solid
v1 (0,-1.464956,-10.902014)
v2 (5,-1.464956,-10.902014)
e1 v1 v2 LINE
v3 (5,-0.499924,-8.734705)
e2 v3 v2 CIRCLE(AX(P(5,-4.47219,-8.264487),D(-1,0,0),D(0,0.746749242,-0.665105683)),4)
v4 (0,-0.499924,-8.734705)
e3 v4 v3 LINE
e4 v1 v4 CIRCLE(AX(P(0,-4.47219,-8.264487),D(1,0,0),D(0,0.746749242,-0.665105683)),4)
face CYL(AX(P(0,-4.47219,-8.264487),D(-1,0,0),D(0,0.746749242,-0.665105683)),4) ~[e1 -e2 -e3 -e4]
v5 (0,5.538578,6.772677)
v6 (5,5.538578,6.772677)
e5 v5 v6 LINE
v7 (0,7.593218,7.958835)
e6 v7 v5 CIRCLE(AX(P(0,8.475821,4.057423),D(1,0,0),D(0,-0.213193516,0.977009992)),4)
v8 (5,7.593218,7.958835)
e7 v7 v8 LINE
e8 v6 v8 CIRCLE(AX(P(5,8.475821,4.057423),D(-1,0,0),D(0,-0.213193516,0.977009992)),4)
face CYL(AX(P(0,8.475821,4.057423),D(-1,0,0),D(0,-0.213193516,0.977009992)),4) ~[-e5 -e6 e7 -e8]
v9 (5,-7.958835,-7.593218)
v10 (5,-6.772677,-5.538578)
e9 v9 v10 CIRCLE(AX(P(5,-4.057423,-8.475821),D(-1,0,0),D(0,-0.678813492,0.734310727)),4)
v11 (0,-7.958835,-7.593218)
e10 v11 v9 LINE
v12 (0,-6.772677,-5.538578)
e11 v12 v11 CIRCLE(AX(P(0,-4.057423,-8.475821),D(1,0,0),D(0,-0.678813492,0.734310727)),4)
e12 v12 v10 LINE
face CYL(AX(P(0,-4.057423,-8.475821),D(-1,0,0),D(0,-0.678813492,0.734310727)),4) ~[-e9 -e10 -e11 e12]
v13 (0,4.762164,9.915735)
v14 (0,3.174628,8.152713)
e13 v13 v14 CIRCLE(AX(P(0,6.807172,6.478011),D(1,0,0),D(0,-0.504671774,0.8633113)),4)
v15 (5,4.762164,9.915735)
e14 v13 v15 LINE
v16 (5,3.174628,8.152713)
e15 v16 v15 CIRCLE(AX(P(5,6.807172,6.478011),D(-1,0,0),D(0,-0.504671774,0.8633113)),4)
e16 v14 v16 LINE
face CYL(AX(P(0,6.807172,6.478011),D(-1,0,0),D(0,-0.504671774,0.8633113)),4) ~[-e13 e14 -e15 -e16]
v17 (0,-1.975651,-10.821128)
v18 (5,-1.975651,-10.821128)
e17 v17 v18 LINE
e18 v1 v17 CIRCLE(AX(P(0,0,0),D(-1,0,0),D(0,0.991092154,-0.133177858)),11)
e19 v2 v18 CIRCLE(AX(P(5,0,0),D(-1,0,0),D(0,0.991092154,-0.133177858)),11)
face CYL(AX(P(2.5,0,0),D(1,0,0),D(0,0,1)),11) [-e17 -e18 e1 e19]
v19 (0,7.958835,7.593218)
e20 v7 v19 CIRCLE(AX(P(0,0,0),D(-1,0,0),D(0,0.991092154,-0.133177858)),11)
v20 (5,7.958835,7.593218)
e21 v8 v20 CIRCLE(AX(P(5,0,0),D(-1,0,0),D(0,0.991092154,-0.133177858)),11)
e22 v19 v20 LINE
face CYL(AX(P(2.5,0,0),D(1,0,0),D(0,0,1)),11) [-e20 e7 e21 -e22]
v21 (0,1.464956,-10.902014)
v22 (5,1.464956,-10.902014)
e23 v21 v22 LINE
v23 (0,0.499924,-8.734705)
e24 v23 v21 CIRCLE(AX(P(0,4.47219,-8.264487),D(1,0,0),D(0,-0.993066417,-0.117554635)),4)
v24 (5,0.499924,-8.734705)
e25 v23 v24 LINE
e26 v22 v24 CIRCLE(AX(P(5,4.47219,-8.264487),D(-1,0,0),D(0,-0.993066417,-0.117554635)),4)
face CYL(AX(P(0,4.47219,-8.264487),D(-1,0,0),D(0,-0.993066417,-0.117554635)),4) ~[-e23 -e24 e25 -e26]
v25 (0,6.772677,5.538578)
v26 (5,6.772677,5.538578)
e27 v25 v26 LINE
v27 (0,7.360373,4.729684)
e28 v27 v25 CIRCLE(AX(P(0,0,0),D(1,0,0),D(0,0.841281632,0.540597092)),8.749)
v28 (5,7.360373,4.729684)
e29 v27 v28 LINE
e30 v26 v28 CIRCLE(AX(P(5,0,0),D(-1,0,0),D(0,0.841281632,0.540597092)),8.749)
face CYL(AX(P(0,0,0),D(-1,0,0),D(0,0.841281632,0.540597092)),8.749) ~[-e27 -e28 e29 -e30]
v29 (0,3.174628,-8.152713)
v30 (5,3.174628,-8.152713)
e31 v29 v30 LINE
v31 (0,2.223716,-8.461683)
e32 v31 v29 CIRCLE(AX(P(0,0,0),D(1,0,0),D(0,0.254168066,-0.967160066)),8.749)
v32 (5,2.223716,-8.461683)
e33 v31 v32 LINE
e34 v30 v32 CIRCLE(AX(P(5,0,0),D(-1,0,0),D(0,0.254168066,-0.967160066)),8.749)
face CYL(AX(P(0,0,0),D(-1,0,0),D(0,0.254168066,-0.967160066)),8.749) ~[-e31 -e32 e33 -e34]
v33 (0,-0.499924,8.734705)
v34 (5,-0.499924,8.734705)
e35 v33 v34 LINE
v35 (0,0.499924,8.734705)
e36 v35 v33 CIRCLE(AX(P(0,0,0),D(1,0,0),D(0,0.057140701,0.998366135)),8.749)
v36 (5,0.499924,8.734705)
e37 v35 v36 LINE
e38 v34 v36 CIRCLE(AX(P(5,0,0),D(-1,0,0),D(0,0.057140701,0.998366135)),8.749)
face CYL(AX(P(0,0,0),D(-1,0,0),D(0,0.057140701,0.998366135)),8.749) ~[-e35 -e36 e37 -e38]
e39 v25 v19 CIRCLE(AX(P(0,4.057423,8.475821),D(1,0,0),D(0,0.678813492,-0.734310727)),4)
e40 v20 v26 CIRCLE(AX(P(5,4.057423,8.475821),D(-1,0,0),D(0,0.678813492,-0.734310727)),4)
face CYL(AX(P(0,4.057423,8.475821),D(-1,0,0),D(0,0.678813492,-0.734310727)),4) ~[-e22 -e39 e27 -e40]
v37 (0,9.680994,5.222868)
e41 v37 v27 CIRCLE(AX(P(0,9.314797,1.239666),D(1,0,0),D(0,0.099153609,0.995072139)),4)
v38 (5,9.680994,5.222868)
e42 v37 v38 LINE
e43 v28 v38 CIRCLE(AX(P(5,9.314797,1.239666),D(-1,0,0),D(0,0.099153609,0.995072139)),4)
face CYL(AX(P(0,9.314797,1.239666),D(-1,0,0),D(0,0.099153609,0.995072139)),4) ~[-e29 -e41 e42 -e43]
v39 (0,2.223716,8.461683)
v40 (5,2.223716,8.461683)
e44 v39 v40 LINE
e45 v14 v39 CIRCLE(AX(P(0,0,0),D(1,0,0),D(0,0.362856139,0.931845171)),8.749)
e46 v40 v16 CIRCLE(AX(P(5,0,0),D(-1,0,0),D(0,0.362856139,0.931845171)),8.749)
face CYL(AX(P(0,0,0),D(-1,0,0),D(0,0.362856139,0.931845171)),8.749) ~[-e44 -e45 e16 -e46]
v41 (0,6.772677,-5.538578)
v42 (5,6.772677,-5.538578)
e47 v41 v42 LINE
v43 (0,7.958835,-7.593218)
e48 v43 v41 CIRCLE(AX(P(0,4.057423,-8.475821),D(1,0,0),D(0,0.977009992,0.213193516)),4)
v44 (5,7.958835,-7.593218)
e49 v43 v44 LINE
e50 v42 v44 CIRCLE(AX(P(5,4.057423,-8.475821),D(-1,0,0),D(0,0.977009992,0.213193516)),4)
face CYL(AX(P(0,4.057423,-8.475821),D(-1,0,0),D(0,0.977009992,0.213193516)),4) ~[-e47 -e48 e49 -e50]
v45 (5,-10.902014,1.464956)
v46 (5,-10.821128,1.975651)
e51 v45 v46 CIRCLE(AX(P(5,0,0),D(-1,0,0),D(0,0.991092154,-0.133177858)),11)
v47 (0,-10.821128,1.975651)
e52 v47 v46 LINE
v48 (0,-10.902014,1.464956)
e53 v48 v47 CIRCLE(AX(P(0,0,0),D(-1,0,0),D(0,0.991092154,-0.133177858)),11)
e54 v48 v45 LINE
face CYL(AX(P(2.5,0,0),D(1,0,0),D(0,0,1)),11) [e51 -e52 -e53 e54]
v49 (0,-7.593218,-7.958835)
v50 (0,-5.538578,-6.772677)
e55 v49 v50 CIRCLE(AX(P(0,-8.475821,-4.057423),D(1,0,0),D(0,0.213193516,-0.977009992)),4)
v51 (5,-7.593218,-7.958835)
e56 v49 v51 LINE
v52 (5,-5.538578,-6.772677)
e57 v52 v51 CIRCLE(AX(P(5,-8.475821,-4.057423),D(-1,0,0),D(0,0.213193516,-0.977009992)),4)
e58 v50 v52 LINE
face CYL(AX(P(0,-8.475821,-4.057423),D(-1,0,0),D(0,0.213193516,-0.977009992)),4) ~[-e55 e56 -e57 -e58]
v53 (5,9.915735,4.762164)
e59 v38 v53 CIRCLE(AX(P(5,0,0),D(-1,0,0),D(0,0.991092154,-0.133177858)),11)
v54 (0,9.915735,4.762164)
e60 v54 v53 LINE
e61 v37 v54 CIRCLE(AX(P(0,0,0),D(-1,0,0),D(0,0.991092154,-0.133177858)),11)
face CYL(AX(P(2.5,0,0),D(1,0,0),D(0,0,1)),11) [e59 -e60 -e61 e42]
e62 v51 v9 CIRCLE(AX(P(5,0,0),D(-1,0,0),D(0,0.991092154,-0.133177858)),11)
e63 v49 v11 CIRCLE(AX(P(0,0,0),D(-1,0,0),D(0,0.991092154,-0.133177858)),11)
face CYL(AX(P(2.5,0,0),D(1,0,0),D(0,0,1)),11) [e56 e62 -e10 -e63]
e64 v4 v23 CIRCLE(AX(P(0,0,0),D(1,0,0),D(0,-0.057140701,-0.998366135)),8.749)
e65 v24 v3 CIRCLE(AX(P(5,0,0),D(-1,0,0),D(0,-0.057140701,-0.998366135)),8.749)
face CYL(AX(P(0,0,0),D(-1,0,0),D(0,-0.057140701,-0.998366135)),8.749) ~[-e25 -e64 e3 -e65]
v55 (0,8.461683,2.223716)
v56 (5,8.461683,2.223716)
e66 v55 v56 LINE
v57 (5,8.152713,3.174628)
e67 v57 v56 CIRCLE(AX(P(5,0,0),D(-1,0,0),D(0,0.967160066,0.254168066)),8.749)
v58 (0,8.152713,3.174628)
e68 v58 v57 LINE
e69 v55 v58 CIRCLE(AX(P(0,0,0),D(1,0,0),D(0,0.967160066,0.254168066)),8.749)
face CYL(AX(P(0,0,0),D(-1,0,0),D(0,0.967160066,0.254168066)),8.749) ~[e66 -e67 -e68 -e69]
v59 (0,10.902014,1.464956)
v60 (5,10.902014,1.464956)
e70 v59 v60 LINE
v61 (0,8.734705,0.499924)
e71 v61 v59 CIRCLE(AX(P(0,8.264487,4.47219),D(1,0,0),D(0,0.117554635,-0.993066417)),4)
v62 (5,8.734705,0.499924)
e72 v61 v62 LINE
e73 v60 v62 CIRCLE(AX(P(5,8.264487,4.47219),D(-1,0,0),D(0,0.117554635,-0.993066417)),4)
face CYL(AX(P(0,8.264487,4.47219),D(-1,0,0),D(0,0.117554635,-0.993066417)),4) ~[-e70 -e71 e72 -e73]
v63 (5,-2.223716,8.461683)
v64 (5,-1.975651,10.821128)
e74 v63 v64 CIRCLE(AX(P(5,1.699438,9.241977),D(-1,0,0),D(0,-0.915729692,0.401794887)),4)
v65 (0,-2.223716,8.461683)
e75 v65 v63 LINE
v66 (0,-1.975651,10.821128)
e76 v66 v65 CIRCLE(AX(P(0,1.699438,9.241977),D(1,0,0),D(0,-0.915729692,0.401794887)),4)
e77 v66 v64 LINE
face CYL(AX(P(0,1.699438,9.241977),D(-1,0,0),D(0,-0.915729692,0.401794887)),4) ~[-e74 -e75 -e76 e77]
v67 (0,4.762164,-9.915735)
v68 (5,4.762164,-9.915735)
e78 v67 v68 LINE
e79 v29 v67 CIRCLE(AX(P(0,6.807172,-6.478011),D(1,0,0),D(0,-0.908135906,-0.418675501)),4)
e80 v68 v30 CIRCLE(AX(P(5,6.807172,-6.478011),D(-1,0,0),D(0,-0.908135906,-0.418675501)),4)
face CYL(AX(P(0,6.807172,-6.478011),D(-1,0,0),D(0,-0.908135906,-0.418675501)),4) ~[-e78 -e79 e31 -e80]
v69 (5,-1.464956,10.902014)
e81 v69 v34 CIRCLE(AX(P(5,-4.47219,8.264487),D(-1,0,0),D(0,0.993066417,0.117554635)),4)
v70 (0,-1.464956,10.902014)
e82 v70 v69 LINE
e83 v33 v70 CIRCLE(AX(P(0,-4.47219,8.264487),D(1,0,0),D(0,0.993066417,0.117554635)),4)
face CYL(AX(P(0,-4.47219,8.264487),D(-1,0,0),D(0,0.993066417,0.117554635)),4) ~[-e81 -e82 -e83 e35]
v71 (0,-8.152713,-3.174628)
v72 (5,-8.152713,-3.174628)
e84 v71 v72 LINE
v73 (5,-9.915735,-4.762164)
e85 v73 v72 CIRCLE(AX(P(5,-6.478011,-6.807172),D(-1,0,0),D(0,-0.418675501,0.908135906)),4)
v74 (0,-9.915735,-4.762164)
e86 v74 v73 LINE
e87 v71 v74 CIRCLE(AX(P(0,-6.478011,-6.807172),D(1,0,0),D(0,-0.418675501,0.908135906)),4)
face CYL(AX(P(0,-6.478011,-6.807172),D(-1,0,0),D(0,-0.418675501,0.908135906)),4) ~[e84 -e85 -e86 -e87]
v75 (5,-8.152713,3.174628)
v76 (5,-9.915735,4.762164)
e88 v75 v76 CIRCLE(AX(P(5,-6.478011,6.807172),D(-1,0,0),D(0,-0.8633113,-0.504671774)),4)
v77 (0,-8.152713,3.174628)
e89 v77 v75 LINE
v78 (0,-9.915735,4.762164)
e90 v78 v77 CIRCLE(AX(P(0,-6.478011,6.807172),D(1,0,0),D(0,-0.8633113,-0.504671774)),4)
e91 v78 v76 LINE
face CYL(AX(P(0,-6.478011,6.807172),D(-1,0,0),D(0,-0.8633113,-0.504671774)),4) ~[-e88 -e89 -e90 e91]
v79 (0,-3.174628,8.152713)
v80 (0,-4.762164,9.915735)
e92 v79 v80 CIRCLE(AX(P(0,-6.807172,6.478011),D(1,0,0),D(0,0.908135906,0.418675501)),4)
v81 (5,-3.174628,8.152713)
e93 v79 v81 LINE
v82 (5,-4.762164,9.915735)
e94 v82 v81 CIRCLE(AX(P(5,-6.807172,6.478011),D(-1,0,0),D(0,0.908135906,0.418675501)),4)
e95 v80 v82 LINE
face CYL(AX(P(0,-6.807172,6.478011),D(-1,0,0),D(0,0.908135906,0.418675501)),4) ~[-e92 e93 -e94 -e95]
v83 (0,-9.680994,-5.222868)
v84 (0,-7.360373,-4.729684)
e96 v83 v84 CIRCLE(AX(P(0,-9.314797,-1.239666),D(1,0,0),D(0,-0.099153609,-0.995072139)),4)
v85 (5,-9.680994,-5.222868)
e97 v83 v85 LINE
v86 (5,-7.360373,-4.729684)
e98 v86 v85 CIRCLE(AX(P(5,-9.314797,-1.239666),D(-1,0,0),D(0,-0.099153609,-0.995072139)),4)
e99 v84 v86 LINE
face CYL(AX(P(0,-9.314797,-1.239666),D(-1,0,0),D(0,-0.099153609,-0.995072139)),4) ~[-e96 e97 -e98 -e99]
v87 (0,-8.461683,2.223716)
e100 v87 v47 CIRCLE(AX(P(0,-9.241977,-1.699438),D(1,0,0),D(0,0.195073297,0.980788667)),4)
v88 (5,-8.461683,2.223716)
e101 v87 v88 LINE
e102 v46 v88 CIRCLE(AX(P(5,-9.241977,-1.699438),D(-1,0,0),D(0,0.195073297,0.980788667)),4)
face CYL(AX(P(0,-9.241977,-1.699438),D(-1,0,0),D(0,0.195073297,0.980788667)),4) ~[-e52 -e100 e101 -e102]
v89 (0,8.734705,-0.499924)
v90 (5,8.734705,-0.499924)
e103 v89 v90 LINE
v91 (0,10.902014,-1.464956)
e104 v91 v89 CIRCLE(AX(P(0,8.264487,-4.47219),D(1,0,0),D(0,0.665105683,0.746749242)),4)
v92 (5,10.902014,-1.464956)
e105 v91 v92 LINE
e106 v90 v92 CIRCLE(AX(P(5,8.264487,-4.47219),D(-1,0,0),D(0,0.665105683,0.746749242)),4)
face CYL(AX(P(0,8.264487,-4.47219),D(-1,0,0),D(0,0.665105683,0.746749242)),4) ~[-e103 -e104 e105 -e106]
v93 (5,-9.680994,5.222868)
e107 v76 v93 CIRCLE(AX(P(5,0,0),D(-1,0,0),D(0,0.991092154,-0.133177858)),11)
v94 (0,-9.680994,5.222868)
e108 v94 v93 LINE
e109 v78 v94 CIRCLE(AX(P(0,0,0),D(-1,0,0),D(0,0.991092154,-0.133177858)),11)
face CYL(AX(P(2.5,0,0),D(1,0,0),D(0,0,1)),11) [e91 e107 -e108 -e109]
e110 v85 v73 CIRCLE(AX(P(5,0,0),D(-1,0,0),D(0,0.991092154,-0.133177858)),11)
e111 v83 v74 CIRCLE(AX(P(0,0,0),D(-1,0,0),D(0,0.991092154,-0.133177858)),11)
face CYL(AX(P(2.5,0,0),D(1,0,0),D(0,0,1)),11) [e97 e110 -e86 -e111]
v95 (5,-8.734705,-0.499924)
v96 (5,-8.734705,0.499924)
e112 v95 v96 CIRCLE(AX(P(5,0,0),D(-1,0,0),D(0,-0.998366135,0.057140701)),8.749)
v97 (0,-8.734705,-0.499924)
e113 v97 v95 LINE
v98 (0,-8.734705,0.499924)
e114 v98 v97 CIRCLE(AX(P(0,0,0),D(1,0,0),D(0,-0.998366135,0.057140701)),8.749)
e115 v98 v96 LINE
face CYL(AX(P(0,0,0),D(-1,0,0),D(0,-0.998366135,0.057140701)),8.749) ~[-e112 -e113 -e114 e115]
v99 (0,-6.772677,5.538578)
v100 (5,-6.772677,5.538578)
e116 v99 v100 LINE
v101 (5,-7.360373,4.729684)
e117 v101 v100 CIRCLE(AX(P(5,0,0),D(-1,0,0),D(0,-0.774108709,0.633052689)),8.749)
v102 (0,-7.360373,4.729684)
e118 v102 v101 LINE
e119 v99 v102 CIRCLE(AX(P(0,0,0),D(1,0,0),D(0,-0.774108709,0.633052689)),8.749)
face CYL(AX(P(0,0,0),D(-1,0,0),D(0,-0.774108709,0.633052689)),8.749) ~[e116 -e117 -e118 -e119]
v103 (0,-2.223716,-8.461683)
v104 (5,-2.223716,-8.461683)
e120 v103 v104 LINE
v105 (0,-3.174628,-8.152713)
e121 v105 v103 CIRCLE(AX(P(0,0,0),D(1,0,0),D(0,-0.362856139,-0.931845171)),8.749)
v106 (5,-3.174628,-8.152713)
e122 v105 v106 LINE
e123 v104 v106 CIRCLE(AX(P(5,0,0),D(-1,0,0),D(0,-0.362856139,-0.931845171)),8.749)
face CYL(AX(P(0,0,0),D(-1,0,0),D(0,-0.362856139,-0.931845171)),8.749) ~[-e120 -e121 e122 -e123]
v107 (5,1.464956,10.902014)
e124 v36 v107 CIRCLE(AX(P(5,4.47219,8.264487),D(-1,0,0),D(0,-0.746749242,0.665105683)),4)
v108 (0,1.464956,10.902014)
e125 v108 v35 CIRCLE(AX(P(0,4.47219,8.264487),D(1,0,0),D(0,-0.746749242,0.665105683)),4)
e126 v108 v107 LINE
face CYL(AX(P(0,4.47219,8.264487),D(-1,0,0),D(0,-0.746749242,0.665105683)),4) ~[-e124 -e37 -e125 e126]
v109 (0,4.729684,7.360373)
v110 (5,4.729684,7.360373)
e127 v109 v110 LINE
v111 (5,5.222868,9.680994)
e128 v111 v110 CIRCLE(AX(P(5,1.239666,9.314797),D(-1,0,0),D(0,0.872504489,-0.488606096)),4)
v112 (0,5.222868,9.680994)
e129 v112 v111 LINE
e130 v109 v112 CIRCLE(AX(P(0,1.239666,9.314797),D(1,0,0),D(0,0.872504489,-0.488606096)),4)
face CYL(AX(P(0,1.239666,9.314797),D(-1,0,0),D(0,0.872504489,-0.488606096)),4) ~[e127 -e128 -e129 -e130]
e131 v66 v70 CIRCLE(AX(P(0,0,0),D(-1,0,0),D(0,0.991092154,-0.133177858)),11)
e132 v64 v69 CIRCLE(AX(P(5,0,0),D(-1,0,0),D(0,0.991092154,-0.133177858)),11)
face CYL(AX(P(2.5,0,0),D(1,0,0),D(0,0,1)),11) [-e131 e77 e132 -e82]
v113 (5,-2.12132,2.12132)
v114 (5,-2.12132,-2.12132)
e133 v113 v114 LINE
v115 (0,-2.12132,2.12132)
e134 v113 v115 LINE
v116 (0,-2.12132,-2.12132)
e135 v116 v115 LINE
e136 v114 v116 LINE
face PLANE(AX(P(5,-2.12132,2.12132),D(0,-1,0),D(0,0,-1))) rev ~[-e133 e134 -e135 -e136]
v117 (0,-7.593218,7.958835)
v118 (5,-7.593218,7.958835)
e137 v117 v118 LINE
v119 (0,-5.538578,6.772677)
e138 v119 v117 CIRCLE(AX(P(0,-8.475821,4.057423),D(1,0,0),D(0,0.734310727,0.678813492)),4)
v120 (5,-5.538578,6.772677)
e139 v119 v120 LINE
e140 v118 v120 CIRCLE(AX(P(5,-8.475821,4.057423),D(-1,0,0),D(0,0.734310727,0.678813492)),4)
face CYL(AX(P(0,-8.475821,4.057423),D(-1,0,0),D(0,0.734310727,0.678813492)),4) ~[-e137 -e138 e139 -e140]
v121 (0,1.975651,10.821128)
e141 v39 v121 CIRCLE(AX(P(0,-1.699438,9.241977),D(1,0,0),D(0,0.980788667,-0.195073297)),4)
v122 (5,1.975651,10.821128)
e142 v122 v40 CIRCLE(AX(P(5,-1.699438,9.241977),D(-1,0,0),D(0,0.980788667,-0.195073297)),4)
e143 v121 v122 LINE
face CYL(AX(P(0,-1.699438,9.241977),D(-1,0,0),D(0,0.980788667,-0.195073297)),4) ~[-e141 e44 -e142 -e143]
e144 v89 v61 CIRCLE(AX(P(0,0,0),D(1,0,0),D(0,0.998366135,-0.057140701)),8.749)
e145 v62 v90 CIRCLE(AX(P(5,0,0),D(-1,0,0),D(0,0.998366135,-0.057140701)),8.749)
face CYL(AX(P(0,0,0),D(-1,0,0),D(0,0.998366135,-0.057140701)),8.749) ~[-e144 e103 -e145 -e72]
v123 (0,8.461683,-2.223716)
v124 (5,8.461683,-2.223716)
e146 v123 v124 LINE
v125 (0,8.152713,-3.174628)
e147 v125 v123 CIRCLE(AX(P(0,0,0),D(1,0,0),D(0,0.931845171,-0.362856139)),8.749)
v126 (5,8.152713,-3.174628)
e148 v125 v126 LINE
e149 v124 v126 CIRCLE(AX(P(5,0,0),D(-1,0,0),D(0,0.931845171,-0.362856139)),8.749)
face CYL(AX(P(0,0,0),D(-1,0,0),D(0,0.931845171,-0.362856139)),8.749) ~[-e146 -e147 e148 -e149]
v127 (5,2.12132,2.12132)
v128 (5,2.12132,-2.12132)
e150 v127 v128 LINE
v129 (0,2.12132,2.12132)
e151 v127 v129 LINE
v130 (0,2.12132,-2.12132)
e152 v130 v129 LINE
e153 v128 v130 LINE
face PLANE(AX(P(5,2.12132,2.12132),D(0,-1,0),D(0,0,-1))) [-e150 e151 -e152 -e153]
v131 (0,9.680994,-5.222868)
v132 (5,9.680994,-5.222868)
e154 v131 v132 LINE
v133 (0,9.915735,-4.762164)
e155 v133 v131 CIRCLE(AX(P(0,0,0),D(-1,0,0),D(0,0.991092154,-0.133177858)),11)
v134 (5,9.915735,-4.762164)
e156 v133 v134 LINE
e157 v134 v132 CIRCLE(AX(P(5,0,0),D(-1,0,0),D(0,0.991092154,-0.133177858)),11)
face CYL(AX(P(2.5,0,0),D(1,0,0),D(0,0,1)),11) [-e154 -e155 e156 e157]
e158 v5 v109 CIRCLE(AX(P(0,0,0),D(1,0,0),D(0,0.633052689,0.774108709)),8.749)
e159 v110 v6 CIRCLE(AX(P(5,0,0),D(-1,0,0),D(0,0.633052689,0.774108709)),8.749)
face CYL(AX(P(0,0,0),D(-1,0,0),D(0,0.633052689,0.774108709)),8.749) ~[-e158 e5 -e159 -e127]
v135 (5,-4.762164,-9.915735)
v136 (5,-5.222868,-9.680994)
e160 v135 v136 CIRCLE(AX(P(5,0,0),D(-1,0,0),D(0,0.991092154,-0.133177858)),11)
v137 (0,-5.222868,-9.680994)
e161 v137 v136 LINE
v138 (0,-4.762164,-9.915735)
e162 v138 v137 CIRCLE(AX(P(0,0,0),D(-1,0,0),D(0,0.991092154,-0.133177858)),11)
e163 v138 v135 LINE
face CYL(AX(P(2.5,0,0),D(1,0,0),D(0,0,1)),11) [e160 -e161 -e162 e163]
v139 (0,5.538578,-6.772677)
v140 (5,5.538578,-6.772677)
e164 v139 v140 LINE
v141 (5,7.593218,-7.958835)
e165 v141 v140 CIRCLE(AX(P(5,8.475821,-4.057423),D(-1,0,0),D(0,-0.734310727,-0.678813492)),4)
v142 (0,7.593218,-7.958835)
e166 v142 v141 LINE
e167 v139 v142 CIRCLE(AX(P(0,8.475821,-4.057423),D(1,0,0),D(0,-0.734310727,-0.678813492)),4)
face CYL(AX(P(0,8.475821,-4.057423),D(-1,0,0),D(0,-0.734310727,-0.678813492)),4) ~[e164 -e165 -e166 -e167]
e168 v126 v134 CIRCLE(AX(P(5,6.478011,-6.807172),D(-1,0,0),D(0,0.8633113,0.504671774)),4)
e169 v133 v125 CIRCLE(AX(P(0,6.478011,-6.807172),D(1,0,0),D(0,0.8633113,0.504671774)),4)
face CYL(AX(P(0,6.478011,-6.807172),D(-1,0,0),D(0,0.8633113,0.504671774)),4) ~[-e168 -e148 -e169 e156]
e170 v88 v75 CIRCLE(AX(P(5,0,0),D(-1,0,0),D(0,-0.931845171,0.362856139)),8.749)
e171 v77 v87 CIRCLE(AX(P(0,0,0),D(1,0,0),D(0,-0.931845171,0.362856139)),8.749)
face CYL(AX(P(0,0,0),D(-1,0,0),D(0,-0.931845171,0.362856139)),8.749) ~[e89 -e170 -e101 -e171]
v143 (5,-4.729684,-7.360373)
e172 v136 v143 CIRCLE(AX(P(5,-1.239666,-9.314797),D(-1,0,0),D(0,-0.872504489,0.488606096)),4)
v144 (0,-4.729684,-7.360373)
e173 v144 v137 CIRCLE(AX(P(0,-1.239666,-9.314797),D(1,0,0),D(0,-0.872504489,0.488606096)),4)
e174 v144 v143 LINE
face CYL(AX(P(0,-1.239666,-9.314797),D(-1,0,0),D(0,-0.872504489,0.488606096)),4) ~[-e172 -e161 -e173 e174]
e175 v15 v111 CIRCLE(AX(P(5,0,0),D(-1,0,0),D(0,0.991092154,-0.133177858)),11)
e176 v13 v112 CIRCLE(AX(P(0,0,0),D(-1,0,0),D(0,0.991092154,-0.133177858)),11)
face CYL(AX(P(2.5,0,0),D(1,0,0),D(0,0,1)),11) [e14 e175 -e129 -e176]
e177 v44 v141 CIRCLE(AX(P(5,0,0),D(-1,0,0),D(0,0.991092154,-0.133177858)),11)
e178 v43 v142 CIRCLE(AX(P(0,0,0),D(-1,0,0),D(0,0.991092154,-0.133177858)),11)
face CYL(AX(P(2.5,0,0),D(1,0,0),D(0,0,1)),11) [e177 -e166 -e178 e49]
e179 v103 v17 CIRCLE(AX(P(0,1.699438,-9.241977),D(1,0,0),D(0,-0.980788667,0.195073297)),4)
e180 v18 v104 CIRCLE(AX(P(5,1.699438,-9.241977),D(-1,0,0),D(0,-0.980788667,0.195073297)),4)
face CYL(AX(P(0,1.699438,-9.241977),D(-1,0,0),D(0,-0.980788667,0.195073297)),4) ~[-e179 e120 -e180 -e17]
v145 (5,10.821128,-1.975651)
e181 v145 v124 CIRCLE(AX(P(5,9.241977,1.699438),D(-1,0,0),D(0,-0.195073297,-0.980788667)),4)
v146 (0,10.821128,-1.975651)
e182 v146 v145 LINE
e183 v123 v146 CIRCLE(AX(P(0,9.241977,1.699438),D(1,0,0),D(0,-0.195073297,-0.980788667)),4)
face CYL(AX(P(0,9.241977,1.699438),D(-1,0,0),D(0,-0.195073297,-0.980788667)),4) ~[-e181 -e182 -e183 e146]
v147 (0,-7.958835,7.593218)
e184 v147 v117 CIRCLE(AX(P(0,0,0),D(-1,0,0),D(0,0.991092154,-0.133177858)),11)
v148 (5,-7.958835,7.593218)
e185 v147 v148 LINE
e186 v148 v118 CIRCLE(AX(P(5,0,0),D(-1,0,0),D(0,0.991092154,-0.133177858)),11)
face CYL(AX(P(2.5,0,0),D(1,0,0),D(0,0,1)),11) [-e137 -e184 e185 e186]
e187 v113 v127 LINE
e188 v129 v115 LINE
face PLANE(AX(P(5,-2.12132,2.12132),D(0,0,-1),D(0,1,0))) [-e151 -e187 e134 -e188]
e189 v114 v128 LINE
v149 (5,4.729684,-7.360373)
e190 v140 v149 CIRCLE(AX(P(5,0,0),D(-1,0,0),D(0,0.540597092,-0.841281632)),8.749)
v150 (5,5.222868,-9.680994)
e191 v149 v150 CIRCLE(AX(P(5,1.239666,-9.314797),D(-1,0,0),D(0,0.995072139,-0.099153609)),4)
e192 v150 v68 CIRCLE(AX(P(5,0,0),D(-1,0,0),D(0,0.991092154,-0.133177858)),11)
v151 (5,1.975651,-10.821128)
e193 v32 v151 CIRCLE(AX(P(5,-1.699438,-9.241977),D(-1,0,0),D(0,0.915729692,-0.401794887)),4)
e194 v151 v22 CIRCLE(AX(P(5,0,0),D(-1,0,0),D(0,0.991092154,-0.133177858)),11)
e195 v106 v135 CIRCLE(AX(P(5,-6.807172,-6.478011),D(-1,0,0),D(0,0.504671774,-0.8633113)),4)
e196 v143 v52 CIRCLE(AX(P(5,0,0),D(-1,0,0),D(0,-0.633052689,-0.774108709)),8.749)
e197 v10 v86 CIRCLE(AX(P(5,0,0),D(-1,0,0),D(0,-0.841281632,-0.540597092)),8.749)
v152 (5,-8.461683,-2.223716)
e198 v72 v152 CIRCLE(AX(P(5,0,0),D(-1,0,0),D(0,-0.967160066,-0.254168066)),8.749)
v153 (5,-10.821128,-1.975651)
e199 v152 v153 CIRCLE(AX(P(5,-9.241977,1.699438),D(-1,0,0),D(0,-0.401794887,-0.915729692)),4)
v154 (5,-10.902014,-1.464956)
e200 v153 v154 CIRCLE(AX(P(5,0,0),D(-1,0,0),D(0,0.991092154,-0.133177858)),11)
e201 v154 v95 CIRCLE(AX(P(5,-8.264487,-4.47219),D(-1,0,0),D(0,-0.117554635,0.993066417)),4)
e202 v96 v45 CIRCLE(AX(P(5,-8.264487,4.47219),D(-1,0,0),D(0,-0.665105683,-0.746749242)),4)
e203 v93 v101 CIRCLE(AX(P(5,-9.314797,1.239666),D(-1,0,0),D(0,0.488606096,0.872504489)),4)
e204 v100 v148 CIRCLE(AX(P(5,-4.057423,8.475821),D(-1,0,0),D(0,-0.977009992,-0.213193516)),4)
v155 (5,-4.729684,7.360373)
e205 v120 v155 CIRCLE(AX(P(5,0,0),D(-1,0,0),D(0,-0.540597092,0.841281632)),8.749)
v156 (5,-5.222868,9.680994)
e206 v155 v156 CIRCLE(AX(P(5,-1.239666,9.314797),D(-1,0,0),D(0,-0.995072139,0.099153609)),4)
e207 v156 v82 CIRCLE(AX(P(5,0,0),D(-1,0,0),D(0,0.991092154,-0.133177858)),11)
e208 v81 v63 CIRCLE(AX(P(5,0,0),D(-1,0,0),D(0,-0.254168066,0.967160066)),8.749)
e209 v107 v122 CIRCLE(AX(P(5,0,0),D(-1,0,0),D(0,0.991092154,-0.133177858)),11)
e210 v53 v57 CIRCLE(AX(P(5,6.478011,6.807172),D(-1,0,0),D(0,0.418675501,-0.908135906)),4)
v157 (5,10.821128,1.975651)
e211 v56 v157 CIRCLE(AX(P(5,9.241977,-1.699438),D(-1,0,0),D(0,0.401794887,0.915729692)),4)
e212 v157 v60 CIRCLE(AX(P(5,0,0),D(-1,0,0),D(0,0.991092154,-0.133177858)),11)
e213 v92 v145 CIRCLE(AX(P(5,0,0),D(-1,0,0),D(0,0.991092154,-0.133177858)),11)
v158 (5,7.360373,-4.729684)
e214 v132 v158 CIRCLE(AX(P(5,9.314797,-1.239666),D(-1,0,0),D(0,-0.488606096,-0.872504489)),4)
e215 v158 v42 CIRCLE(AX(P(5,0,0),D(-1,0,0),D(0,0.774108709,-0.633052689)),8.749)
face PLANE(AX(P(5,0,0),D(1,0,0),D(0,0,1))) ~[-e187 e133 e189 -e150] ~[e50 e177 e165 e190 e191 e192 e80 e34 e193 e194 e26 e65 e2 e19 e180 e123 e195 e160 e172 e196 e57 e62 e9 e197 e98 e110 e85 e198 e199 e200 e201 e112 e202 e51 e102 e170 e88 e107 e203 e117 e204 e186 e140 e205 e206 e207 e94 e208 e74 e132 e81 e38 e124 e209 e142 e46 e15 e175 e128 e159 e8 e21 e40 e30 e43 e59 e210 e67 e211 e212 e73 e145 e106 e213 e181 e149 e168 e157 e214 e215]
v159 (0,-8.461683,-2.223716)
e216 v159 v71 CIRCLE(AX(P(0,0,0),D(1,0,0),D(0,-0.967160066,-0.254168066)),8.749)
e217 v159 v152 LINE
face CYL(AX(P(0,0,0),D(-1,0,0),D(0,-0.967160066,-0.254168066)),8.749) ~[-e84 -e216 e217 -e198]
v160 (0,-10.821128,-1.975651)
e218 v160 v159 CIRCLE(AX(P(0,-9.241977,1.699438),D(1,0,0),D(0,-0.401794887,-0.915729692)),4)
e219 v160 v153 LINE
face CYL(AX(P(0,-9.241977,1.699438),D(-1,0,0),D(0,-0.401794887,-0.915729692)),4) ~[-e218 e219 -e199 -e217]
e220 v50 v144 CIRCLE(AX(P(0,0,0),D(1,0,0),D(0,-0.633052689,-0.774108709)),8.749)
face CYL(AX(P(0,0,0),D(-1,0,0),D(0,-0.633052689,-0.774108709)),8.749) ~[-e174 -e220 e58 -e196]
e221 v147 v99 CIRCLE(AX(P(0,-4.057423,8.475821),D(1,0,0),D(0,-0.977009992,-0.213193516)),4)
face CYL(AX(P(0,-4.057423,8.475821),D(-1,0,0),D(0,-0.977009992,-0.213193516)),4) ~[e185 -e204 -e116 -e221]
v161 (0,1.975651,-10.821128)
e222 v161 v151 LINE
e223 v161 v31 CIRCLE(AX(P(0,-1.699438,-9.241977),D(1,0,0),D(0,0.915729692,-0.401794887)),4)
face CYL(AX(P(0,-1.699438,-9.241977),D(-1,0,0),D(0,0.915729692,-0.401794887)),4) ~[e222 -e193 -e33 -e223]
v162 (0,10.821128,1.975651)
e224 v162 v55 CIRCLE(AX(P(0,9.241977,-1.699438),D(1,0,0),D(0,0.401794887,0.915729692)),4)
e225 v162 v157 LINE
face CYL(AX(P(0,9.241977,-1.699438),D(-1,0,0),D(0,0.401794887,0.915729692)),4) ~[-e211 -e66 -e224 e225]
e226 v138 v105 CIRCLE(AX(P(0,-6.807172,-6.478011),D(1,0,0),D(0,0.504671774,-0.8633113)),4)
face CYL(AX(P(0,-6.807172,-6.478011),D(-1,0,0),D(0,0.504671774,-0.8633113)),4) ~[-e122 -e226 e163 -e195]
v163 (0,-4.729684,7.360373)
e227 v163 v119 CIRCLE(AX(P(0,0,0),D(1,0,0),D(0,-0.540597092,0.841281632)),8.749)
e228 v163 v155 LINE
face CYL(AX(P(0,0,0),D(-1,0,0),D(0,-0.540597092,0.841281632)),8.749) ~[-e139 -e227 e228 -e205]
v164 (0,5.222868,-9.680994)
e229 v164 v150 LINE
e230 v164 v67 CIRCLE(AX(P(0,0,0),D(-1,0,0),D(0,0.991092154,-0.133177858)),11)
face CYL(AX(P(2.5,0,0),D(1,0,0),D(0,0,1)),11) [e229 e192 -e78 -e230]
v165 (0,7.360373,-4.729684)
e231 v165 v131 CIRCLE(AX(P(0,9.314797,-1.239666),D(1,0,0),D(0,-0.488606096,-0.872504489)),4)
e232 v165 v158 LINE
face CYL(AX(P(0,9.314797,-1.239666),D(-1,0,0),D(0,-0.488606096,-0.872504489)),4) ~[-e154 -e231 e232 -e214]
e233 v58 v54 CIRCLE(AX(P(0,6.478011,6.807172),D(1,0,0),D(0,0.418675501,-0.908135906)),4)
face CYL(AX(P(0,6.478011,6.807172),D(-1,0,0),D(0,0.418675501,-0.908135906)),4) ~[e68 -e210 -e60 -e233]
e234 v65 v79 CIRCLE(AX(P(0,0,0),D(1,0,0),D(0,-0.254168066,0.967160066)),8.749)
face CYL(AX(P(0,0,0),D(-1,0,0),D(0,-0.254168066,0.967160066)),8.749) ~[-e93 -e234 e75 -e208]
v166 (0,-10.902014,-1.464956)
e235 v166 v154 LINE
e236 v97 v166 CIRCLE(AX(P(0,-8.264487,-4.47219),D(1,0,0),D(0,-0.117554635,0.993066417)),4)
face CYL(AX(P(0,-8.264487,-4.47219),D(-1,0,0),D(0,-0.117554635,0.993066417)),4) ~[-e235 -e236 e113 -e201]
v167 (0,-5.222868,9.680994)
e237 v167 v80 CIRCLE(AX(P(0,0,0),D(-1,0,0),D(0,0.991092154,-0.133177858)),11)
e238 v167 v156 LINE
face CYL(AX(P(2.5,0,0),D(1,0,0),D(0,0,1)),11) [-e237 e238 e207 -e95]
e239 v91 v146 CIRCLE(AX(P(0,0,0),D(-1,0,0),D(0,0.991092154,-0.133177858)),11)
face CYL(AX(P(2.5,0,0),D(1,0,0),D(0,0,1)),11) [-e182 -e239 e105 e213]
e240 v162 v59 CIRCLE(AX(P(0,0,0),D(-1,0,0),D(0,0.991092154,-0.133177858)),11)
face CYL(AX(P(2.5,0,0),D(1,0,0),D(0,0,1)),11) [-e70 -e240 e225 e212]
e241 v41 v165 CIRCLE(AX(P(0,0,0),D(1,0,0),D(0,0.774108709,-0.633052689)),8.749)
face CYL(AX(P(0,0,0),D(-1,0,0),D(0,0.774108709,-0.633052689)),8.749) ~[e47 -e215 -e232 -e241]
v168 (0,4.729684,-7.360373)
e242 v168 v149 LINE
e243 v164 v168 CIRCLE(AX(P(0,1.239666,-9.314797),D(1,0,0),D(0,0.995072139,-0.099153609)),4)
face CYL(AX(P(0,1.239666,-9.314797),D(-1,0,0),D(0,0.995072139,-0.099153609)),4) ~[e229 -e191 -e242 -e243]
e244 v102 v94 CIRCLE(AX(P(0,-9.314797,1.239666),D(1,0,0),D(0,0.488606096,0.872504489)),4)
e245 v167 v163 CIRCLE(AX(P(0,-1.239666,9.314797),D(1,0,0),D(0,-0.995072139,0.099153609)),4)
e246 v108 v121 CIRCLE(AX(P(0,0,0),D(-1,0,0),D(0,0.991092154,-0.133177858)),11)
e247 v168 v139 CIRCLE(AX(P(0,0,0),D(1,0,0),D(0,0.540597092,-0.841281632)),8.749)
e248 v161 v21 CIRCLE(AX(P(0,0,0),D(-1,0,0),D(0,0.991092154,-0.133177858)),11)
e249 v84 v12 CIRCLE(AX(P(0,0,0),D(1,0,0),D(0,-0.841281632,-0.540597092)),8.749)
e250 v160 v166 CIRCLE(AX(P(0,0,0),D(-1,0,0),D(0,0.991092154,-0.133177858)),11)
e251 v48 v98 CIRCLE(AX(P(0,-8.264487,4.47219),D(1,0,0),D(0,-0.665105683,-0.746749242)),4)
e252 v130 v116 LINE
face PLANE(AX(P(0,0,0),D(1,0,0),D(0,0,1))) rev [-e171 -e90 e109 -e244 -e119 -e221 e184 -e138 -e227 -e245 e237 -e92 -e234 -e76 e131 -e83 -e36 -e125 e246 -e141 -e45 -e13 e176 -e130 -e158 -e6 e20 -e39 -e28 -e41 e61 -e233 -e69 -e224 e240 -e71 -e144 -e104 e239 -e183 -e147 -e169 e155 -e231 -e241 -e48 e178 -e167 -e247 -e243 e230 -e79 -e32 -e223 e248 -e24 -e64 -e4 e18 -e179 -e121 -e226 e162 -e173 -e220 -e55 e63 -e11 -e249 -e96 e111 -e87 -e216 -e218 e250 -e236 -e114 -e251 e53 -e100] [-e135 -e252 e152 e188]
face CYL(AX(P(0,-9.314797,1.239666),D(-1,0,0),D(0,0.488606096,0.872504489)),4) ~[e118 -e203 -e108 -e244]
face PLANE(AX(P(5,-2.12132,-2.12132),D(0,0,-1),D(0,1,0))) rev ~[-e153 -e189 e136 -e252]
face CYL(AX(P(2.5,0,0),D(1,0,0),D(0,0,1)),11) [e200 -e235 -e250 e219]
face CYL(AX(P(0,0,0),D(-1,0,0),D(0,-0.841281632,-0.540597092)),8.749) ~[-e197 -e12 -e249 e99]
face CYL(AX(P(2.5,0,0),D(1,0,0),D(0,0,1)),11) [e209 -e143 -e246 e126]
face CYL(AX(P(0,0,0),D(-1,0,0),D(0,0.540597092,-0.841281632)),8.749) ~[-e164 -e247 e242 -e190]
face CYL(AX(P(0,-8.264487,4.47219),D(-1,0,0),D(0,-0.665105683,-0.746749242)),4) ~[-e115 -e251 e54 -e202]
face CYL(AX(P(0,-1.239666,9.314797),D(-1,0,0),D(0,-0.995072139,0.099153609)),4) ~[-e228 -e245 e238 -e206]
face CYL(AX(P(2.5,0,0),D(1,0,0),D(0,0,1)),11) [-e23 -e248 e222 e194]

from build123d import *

# Parameters (mm, degrees)
BASPROSKE_W        = 5
BASPROSKE_H        = 11
TOOTHCUT_DEPTH     = 17.340134638
TEETHCUTS_COUNT    = 20
TEETHCUTS_ANGLE    = 342
BORSKE_R           = 0.4
BORE_DEPTH         = 50.0000508
SKETCH1_W          = 4.242640688
SKETCH1_H          = 4.242640688
CUT_EXTRUDE1_DEPTH = 17.208263488


with BuildPart() as part:
    # BasProSke → Base-Revolve (revolve)
    with BuildSketch(Plane(origin=(0, 0, 0), x_dir=(1, 0, 0), z_dir=(0, 1, 0)), mode=Mode.PRIVATE) as base_revolve_sk:
        with Locations((2.5, 5.5)):
            Rectangle(BASPROSKE_W, BASPROSKE_H)
    revolve(base_revolve_sk.sketch.rotate(Axis((-10, 0, 0), (1, 0, 0)), 180), axis=Axis((-10, 0, 0), (1, 0, 0)))

    # TooCutSke → ToothCut (cut, through all)
    with BuildSketch(Plane(origin=(0, 0, 0), x_dir=(0, 0, -1), z_dir=(1, 0, 0))):
        with BuildLine():
            ThreePointArc((0.499924007, 8.734705318), (0, 8.749), (-0.499924007, 8.734705318))
            ThreePointArc((-0.499924007, 8.734705318), (-0.824302243, 9.905497836), (-1.485192705, 10.924909509))
            ThreePointArc((-1.485192705, 10.924909509), (0, 11.0254), (1.485192705, 10.924909509))
            ThreePointArc((1.485192705, 10.924909509), (0.824302243, 9.905497836), (0.499924007, 8.734705318))
        make_face()
    toothcut = extrude(amount=TOOTHCUT_DEPTH, mode=Mode.SUBTRACT)

    # TeethCuts: ToothCut ×20 about axis
    teethcuts_axis = Axis((-10, 0, 0), (1, 0, 0))
    for i in range(1, TEETHCUTS_COUNT):
        add(toothcut.rotate(teethcuts_axis, i * TEETHCUTS_ANGLE / (TEETHCUTS_COUNT - 1)), mode=Mode.SUBTRACT)

    # BorSke → Bore (cut, symmetric)
    with BuildSketch(Plane(origin=(0, 0, 0), x_dir=(0, 0, -1), z_dir=(1, 0, 0))):
        with Locations(Location((0, 0, 0), (0, 0, 180))):
            Circle(BORSKE_R)
    extrude(amount=BORE_DEPTH, both=True, mode=Mode.SUBTRACT)

    # Sketch1 → Cut-Extrude1 (cut, through all)
    with BuildSketch(Plane(origin=(5, 0, 0), x_dir=(0, 0, -1), z_dir=(1, 0, 0))):
        Rectangle(SKETCH1_W, SKETCH1_H)
    extrude(amount=-CUT_EXTRUDE1_DEPTH, mode=Mode.SUBTRACT)


solid = part.part
